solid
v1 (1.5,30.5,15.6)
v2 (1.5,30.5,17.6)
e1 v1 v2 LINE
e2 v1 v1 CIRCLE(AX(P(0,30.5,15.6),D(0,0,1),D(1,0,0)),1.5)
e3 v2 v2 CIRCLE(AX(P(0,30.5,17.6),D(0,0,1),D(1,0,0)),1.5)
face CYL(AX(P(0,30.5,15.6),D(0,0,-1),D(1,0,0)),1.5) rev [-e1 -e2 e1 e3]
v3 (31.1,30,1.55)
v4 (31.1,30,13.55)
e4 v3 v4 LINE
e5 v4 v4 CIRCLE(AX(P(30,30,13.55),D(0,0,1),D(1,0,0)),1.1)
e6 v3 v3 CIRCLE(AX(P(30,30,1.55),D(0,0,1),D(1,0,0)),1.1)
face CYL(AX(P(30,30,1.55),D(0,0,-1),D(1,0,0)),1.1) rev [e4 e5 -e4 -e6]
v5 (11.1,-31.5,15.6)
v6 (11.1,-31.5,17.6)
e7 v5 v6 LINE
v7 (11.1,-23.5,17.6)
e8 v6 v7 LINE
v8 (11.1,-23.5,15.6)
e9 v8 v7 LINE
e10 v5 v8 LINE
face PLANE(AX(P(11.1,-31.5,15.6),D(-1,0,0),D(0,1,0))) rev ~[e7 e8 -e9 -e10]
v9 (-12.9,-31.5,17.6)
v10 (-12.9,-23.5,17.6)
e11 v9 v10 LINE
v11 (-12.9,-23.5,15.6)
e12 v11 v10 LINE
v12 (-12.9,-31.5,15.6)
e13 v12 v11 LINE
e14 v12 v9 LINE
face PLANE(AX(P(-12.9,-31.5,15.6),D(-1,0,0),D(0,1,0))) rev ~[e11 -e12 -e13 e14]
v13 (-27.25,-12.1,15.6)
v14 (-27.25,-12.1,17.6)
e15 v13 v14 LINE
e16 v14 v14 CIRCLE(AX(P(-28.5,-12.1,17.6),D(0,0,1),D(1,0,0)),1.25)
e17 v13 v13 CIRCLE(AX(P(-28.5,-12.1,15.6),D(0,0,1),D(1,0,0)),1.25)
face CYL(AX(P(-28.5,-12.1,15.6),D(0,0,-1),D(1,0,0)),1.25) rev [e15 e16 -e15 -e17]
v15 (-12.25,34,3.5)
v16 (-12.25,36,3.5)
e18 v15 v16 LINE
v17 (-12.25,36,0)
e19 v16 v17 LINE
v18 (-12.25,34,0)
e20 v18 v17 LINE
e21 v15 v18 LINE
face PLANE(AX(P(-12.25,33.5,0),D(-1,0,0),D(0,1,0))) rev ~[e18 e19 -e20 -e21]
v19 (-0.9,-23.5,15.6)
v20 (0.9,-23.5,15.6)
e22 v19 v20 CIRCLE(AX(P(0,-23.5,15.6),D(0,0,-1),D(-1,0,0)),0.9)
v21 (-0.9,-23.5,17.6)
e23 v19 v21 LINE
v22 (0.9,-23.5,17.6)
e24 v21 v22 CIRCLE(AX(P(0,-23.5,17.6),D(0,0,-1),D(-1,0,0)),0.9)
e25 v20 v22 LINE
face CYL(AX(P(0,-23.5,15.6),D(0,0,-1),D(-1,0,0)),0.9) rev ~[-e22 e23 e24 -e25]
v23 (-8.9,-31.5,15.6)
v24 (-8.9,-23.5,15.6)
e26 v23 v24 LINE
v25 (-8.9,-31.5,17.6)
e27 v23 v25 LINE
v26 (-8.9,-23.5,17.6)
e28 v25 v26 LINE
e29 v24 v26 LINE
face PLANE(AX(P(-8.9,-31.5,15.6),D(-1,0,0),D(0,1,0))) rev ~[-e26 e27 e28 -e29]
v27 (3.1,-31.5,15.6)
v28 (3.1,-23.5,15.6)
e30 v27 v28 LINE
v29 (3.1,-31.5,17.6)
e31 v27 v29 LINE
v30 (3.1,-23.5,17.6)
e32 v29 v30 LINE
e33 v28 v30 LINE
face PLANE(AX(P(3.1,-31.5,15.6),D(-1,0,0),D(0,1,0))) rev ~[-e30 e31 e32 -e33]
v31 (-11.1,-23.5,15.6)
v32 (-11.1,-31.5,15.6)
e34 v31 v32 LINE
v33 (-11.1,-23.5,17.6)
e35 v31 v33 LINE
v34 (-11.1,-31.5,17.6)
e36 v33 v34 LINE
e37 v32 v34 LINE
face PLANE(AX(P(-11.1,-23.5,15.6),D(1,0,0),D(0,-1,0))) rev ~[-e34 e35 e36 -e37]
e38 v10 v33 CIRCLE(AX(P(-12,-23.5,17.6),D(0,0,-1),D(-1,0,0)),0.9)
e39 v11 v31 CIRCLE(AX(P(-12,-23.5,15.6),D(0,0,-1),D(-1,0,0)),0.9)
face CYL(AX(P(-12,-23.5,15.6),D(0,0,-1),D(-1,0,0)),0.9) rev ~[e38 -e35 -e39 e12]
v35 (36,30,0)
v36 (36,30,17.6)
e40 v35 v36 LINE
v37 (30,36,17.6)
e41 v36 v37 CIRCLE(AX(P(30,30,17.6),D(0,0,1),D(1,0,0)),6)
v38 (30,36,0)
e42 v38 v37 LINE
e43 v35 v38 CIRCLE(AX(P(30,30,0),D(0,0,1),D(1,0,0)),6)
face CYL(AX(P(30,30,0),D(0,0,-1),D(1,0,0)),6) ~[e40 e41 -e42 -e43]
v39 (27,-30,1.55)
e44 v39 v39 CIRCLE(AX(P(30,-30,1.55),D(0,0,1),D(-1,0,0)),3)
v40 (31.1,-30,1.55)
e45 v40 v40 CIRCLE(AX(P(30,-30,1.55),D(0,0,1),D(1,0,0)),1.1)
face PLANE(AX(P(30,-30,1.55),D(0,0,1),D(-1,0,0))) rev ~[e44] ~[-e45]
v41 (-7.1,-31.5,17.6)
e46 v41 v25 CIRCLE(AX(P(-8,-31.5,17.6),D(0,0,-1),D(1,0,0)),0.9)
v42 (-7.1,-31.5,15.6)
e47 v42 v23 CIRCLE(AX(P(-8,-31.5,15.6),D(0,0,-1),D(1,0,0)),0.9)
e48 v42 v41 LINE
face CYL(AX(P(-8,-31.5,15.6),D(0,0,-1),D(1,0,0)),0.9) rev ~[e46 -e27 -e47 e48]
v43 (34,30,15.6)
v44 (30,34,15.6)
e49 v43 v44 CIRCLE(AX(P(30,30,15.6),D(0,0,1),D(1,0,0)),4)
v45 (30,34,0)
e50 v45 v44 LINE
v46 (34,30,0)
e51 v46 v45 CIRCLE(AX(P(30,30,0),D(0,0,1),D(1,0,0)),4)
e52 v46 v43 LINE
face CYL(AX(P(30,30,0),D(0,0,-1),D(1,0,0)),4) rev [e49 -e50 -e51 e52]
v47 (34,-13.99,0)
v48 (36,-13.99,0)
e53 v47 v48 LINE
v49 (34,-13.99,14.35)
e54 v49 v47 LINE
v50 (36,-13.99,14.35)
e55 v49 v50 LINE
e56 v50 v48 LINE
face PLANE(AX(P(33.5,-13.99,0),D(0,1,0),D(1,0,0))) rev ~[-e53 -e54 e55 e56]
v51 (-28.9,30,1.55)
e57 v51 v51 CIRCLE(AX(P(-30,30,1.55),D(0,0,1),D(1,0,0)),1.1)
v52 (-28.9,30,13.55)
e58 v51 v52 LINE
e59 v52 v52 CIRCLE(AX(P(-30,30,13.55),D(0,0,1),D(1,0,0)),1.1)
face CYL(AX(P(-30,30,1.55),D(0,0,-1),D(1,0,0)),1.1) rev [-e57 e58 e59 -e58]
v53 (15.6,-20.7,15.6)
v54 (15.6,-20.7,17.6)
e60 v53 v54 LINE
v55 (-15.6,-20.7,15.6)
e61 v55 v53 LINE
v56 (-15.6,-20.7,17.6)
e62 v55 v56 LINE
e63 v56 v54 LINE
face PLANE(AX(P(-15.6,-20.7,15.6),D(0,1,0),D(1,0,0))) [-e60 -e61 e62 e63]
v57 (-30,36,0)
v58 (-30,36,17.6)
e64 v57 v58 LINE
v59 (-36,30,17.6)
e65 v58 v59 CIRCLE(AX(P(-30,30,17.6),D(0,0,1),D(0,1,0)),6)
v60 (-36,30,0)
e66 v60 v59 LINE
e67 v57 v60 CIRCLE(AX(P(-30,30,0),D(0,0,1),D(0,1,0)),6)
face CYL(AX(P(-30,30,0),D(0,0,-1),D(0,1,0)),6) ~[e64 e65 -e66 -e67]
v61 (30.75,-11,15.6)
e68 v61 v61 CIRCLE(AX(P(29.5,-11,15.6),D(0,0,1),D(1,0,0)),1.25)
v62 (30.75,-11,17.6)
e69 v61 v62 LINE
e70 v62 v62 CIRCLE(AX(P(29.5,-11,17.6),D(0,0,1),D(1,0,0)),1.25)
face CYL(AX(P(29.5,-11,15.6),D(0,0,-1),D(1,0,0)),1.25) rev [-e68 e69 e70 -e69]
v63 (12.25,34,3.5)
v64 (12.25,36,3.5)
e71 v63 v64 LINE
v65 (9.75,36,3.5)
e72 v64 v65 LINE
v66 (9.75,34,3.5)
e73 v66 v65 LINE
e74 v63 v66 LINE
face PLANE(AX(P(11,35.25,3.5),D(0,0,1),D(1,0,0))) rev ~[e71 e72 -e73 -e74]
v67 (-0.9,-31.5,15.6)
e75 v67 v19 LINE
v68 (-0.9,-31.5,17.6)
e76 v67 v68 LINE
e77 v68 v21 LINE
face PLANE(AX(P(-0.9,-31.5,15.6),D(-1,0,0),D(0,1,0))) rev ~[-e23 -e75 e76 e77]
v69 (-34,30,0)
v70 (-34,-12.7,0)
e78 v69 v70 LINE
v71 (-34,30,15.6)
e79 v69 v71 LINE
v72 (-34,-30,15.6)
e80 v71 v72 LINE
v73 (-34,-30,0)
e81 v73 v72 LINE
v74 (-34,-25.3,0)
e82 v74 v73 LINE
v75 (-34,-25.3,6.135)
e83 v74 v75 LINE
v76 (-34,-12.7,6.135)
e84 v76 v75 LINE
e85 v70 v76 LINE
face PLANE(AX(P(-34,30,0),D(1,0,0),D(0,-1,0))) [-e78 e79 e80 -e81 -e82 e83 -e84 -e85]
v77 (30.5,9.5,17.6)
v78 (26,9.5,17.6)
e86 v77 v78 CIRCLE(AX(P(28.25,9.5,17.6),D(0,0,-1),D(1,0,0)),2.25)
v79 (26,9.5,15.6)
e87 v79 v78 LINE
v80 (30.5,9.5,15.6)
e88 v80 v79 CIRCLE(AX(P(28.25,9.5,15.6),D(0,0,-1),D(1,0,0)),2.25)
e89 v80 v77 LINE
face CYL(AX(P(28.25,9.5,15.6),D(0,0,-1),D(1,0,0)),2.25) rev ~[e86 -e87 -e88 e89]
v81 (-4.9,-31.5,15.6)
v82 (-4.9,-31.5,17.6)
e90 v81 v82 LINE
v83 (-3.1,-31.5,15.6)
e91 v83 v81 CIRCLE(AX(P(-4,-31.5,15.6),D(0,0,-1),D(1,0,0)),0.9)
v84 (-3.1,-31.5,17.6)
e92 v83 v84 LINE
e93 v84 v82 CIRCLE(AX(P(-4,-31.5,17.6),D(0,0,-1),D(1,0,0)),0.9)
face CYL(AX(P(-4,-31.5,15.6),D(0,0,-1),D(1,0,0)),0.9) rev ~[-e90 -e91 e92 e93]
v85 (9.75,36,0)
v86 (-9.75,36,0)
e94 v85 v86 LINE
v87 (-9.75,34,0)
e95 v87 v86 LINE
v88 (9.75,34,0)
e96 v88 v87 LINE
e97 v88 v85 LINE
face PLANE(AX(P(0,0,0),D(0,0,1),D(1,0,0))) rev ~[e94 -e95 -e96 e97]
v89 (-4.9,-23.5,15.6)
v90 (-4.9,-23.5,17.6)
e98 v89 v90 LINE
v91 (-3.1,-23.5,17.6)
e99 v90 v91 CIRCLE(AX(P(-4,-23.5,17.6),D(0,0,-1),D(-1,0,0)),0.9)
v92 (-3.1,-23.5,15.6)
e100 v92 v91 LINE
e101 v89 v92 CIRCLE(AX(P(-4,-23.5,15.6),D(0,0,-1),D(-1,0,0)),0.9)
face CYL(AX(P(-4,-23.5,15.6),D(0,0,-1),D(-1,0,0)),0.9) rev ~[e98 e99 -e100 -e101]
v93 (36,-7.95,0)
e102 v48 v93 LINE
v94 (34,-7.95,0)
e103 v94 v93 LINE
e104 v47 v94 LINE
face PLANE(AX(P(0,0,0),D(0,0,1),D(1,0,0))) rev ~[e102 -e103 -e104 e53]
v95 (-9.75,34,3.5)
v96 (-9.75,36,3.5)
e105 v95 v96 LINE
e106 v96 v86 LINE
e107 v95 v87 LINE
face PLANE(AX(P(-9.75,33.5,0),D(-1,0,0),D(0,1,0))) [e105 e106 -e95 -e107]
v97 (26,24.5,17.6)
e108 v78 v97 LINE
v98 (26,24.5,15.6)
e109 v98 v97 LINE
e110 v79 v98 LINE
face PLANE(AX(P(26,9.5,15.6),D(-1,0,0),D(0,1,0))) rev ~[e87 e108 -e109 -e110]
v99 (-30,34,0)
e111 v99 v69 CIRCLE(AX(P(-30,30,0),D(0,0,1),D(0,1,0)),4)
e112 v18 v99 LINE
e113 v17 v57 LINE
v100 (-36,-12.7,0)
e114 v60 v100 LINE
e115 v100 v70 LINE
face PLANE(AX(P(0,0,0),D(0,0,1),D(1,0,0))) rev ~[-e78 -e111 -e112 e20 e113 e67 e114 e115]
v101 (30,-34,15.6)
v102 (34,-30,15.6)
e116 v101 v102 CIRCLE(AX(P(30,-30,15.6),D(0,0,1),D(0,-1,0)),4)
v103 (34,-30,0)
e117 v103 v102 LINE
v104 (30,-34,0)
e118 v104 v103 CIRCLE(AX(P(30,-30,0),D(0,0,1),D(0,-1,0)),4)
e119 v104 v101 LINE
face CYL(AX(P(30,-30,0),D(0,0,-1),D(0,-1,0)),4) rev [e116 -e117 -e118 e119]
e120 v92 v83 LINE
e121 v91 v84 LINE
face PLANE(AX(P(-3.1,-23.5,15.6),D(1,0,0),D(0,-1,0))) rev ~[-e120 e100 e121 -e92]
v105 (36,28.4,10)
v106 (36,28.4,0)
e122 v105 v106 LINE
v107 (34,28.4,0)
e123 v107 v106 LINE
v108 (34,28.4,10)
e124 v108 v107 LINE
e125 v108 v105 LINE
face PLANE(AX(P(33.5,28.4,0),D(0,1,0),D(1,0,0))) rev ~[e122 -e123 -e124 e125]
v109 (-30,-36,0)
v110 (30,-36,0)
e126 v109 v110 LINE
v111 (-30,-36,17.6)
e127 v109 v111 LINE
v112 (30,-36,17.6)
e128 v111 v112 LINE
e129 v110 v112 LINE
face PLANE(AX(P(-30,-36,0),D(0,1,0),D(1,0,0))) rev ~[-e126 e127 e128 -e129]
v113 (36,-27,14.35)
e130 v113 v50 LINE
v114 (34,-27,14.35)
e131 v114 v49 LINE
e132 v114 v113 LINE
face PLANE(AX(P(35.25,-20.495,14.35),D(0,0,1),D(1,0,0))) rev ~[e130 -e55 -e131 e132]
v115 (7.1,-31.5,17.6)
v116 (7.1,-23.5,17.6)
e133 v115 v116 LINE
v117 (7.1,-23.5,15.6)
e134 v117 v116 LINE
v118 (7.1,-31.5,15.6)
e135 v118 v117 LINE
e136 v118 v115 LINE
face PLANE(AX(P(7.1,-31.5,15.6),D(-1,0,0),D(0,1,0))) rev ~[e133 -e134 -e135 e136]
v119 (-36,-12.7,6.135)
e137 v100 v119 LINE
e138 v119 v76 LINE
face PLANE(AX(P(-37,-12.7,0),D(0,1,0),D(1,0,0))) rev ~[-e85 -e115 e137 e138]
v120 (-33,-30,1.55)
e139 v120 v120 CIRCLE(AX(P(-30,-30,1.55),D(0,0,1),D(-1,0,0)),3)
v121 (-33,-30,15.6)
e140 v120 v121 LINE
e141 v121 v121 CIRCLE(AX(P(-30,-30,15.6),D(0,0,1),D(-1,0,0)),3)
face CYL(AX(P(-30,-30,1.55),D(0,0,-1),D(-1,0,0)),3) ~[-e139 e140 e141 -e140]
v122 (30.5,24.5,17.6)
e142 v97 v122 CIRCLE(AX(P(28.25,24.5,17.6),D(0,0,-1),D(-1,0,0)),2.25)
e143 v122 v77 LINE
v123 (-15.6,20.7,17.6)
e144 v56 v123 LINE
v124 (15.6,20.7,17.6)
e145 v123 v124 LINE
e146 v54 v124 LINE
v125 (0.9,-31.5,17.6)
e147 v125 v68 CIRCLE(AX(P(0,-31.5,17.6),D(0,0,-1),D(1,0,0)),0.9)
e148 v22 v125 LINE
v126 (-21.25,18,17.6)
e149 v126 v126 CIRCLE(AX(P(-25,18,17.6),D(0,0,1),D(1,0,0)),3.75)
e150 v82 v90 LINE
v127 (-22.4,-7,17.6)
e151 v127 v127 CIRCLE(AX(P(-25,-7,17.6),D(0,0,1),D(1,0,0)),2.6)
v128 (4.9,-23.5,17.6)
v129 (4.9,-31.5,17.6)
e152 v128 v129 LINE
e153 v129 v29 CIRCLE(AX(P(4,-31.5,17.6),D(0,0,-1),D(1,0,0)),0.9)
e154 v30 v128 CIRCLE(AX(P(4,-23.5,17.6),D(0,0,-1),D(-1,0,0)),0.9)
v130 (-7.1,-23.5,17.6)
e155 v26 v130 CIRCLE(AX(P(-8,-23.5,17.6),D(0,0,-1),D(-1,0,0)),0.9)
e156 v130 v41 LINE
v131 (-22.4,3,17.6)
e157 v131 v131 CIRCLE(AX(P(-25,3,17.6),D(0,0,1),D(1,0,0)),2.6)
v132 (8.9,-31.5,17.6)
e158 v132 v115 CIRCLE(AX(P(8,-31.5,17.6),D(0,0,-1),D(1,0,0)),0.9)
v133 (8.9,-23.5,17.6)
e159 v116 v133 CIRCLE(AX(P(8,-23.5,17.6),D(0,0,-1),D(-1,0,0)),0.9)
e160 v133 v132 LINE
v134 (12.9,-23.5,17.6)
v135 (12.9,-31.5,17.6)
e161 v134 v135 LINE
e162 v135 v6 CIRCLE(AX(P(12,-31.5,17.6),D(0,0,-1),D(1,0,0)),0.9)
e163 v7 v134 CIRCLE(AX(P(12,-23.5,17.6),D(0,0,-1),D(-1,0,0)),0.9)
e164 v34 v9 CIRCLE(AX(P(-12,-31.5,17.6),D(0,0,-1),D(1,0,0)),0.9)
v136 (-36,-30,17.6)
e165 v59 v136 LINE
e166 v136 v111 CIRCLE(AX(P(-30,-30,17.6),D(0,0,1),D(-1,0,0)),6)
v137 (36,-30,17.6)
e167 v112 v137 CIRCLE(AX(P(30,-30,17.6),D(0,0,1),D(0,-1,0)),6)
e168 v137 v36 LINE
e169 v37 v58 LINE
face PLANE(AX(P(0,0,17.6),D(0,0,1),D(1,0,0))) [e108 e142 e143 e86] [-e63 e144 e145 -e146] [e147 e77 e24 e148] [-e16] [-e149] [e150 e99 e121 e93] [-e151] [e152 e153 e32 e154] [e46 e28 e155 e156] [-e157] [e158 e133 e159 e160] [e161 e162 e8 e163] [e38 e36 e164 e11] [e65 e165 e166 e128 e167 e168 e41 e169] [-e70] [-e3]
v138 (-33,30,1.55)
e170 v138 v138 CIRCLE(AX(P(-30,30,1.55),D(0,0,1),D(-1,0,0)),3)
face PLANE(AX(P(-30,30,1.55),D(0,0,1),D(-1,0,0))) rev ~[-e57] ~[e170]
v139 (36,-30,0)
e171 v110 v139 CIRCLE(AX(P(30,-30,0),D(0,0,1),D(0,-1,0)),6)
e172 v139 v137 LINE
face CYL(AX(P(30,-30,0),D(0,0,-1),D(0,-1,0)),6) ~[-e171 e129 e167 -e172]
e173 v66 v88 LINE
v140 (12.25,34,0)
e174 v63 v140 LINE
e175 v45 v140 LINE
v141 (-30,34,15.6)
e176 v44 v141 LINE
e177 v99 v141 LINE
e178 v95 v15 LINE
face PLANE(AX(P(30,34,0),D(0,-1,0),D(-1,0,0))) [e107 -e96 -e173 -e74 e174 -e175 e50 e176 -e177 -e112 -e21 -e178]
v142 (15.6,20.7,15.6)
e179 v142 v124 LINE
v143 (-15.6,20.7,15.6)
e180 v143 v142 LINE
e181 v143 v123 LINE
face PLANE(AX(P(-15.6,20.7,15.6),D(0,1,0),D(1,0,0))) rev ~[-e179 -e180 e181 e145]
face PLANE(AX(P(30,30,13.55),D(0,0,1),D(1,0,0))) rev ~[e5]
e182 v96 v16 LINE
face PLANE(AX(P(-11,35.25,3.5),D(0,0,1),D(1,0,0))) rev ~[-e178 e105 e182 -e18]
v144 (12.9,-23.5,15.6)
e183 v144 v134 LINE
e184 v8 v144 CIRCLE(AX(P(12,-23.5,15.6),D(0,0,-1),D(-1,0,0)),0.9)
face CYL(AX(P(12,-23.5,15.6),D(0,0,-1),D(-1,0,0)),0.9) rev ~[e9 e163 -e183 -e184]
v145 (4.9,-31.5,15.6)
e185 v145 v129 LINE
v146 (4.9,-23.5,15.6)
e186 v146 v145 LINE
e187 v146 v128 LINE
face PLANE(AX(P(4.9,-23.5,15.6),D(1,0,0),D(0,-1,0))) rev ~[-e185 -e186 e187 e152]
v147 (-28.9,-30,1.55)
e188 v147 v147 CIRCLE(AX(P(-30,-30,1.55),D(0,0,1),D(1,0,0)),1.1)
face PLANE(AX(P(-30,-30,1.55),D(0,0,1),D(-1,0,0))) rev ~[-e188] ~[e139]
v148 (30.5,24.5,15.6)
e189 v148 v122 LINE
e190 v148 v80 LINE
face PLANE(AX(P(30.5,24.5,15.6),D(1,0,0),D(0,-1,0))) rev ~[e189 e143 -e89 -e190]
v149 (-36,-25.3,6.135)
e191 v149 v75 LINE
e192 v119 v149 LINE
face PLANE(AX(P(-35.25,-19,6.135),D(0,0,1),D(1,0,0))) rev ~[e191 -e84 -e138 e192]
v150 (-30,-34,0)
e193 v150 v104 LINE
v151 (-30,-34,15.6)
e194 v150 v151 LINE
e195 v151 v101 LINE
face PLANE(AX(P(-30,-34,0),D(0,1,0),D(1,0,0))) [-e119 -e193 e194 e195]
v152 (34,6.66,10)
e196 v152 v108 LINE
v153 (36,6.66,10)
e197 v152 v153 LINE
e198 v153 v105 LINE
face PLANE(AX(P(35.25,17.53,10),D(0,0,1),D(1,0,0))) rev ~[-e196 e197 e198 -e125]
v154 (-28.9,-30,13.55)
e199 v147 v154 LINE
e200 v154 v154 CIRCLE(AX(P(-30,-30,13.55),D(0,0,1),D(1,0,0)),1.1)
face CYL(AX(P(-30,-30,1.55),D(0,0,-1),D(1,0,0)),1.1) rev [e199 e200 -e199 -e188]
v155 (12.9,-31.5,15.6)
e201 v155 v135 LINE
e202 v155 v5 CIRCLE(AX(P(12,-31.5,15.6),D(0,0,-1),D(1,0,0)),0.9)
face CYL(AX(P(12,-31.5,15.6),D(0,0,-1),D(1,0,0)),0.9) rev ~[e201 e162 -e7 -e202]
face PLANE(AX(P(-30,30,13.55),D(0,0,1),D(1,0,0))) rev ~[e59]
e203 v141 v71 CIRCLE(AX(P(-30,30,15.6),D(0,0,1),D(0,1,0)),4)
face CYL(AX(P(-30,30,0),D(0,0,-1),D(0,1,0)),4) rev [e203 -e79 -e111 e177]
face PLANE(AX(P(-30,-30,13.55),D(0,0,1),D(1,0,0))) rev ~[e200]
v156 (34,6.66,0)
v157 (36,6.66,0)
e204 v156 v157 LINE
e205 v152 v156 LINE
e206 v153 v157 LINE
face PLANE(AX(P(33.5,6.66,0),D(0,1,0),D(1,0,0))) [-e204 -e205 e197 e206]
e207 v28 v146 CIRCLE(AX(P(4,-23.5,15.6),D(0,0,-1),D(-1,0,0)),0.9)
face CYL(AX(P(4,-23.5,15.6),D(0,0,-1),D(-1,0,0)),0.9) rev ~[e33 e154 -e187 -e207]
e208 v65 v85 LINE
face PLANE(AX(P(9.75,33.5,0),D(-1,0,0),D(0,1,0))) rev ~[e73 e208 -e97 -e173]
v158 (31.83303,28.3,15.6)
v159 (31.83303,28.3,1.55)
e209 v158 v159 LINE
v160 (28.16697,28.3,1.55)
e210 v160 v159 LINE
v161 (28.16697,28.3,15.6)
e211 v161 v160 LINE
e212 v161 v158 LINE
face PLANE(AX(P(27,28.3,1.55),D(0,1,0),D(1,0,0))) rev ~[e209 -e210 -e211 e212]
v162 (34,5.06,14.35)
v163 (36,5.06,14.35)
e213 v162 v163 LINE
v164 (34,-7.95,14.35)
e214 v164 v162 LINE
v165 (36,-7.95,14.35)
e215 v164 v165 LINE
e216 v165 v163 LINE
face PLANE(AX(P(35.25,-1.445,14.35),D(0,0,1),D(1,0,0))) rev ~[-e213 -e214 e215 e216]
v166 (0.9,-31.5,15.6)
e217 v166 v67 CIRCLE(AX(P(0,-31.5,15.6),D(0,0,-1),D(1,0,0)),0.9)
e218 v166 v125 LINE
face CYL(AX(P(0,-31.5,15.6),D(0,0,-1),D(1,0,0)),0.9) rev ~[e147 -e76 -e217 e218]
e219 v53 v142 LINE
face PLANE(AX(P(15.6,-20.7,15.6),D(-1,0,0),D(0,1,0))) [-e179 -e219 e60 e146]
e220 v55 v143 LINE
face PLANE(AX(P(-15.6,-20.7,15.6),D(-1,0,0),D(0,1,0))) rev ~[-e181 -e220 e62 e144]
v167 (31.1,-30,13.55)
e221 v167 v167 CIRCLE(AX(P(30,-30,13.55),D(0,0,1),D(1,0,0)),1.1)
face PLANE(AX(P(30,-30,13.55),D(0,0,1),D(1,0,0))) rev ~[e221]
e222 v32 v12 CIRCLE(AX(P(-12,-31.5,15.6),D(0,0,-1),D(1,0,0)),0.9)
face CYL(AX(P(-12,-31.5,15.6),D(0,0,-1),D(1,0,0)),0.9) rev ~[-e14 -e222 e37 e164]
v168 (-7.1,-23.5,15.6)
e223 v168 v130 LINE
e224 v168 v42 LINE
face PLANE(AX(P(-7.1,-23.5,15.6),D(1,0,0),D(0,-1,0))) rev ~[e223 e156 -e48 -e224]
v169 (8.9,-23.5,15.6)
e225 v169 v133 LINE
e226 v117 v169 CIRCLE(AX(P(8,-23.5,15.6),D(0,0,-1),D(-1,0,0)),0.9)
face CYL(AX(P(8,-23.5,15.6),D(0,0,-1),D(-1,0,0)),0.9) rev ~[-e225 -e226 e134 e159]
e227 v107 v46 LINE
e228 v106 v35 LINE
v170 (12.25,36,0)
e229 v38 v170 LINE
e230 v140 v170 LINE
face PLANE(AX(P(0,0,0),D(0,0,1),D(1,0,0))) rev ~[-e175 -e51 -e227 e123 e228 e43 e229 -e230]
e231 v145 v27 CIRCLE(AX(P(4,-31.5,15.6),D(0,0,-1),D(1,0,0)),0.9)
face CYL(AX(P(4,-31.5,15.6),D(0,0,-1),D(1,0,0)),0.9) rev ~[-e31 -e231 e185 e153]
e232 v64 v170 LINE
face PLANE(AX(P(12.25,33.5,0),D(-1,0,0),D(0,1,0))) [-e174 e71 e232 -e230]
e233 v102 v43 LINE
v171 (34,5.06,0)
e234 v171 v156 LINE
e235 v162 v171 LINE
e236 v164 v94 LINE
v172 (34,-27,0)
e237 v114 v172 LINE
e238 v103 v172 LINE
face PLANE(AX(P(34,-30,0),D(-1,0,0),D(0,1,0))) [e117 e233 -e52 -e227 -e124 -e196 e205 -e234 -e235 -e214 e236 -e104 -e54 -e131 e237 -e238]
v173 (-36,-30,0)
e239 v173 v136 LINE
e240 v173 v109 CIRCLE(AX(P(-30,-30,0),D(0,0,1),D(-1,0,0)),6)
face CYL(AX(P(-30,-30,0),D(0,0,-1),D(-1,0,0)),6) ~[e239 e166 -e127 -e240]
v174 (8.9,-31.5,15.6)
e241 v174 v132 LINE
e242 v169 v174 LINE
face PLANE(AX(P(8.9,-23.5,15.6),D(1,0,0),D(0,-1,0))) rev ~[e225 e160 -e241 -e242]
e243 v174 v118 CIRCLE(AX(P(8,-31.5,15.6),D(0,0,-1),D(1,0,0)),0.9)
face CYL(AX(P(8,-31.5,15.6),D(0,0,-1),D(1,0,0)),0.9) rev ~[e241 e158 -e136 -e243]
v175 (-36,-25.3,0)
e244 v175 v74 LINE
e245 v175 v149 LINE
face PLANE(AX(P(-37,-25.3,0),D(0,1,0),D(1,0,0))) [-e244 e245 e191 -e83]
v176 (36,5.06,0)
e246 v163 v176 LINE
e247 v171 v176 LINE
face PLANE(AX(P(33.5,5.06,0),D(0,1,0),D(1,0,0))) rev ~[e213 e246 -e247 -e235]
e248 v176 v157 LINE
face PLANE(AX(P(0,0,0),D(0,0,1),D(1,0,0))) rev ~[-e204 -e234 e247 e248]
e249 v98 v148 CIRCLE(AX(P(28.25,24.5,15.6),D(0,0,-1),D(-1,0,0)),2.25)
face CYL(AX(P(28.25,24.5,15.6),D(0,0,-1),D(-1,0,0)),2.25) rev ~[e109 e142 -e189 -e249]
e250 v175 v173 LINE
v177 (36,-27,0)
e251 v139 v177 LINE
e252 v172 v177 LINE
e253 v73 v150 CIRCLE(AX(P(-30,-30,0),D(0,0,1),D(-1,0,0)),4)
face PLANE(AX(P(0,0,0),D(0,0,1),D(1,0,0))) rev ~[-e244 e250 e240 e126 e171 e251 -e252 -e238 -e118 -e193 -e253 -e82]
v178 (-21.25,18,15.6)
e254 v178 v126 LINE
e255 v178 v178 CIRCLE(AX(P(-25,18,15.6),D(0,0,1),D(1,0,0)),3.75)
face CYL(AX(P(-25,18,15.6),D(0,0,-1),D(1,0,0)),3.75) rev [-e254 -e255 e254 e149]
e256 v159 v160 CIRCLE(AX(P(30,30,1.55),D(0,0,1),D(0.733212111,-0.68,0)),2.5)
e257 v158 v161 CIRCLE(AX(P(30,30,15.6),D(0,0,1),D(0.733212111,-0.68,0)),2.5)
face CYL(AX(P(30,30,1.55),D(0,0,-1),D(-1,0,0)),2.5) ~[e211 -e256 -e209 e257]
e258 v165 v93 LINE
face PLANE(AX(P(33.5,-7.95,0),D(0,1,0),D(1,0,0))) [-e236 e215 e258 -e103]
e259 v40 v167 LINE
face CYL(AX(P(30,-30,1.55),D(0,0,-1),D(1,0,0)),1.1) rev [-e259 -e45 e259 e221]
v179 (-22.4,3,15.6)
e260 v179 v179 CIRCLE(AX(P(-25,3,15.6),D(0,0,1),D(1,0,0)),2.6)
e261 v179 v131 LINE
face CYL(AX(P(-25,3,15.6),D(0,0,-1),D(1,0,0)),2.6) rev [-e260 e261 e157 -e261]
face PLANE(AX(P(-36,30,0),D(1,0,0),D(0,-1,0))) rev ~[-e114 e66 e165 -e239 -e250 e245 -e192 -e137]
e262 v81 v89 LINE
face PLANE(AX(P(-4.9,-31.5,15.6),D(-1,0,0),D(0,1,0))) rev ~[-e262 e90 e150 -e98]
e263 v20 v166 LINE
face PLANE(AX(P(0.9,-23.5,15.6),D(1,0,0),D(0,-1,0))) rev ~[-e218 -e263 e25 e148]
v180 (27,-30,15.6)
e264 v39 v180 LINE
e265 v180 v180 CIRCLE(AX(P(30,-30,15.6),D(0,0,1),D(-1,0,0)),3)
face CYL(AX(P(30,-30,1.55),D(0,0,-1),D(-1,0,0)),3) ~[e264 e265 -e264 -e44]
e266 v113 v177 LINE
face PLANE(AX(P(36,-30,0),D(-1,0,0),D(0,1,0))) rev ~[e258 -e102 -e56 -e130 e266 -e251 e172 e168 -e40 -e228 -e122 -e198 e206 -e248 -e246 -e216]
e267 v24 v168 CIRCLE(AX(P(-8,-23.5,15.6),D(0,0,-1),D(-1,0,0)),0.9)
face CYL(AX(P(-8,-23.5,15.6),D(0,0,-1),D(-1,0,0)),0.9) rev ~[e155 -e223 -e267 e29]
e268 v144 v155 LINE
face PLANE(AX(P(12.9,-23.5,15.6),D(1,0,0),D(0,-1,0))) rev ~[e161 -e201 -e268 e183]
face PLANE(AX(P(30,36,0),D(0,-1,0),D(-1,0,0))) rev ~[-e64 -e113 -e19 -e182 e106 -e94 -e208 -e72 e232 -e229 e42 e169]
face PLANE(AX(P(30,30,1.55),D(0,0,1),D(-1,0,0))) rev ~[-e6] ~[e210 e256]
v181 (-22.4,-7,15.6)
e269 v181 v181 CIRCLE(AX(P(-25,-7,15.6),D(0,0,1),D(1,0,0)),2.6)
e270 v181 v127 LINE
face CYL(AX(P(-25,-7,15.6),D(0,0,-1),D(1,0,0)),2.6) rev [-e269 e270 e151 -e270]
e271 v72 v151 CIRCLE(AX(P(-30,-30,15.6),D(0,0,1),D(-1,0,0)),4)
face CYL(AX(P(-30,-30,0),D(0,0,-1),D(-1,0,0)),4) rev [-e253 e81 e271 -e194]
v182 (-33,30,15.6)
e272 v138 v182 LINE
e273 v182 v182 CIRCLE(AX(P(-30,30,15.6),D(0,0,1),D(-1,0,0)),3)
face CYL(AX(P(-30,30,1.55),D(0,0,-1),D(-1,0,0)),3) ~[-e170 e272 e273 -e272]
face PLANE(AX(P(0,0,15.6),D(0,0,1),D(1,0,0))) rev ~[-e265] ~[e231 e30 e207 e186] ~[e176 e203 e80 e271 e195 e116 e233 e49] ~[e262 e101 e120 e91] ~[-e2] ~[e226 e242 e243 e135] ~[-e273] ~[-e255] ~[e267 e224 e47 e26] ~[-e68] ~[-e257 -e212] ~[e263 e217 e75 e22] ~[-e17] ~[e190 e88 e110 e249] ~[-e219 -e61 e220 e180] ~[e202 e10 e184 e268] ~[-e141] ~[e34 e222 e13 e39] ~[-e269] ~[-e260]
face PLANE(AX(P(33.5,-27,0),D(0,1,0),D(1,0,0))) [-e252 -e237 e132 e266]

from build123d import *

# Parameters (mm, degrees)
BOSS_EXTRUDE1_DEPTH = 17.6
CUT_EXTRUDE1_DEPTH  = 15.6
SKETCH3_R           = 3
SKETCH3_R_2         = 2.5
BOSS_EXTRUDE2_DEPTH = 14.05
SKETCH4_W           = 6
SKETCH4_H           = 2.3
CUT_EXTRUDE2_DEPTH  = 14.05
SKETCH5_R           = 1.1
CUT_EXTRUDE3_DEPTH  = 12
SKETCH6_R           = 3.75
SKETCH6_R_2         = 2.6
SKETCH6_R_3         = 1.5
SKETCH6_R_4         = 1.25
SKETCH6_W           = 31.2
SKETCH6_H           = 41.4
CUT_EXTRUDE4_DEPTH  = 2
SKETCH7_W           = 3.5
SKETCH7_H           = 13.01
CUT_EXTRUDE5_DEPTH  = 14.35
SKETCH8_W           = 3.5
SKETCH8_H           = 21.74
CUT_EXTRUDE6_DEPTH  = 10
SKETCH9_W           = 3.5
SKETCH9_H           = 12.6
CUT_EXTRUDE7_DEPTH  = 6.135
SKETCH10_W          = 2.5
SKETCH10_H          = 3.5
CUT_EXTRUDE8_DEPTH  = 3.5


with BuildPart() as part:
    # Sketch1 → Boss-Extrude1 (new body)
    with BuildSketch(Plane.XY):
        with BuildLine():
            Line((-30, -36), (30, -36))
            ThreePointArc((30, -36), (34.242640687, -34.242640687), (36, -30))
            Line((36, -30), (36, 30))
            ThreePointArc((36, 30), (34.242640687, 34.242640687), (30, 36))
            Line((30, 36), (-30, 36))
            ThreePointArc((-30, 36), (-34.242640687, 34.242640687), (-36, 30))
            Line((-36, 30), (-36, -30))
            ThreePointArc((-36, -30), (-34.242640687, -34.242640687), (-30, -36))
        make_face()
    extrude(amount=BOSS_EXTRUDE1_DEPTH)

    # Sketch2 → Cut-Extrude1 (cut)
    with BuildSketch(Plane.XY):
        with BuildLine():
            Line((-30, -34), (30, -34))
            ThreePointArc((30, -34), (32.828427125, -32.828427125), (34, -30))
            Line((34, -30), (34, 30))
            ThreePointArc((34, 30), (32.828427125, 32.828427125), (30, 34))
            Line((30, 34), (-30, 34))
            ThreePointArc((-30, 34), (-32.828427125, 32.828427125), (-34, 30))
            Line((-34, 30), (-34, -30))
            ThreePointArc((-34, -30), (-32.828427125, -32.828427125), (-30, -34))
        make_face()
    extrude(amount=CUT_EXTRUDE1_DEPTH, mode=Mode.SUBTRACT)

    # Sketch3 → Boss-Extrude2 (add)
    with BuildSketch(Plane.XY.offset(1.55)):
        with Locations(Location((-30, 30, 0), (0, 0, 180))):
            Circle(SKETCH3_R)
        with Locations(Location((30, 30, 0), (0, 0, 180))):
            Circle(SKETCH3_R_2)
        with Locations(Location((-30, -30, 0), (0, 0, 180))):
            Circle(SKETCH3_R)
        with Locations(Location((30, -30, 0), (0, 0, 180))):
            Circle(SKETCH3_R)
    extrude(amount=BOSS_EXTRUDE2_DEPTH)

    # Sketch4 → Cut-Extrude2 (cut)
    with BuildSketch(Plane.XY.offset(1.55)):
        with Locations((30, 27.15)):
            Rectangle(SKETCH4_W, SKETCH4_H)
    extrude(amount=CUT_EXTRUDE2_DEPTH, mode=Mode.SUBTRACT)

    # Sketch5 → Cut-Extrude3 (cut)
    with BuildSketch(Plane.XY.offset(1.55)):
        with Locations((-30, 30)):
            Circle(SKETCH5_R)
        with Locations((30, 30)):
            Circle(SKETCH5_R)
        with Locations((-30, -30)):
            Circle(SKETCH5_R)
        with Locations((30, -30)):
            Circle(SKETCH5_R)
    extrude(amount=CUT_EXTRUDE3_DEPTH, mode=Mode.SUBTRACT)

    # Sketch6 → Cut-Extrude4 (cut)
    with BuildSketch(Plane.XY.offset(15.6)):
        with Locations((-25, 18)):
            Circle(SKETCH6_R)
        with Locations((-25, 3)):
            Circle(SKETCH6_R_2)
        with Locations((-25, -7)):
            Circle(SKETCH6_R_2)
        with Locations((0, 30.5)):
            Circle(SKETCH6_R_3)
        with Locations((-28.5, -12.1)):
            Circle(SKETCH6_R_4)
        with Locations((29.5, -11)):
            Circle(SKETCH6_R_4)
        Rectangle(SKETCH6_W, SKETCH6_H)
        with BuildLine():
            Line((30.5, 24.5), (30.5, 9.5))
            ThreePointArc((30.5, 9.5), (28.25, 7.25), (26, 9.5))
            Line((26, 9.5), (26, 24.5))
            ThreePointArc((26, 24.5), (28.25, 26.75), (30.5, 24.5))
        make_face()
        with BuildLine():
            Line((-11.1, -23.5), (-11.1, -31.5))
            ThreePointArc((-11.1, -31.5), (-12, -32.4), (-12.9, -31.5))
            Line((-12.9, -31.5), (-12.9, -23.5))
            ThreePointArc((-12.9, -23.5), (-12, -22.6), (-11.1, -23.5))
        make_face()
        with BuildLine():
            Line((-7.1, -23.5), (-7.1, -31.5))
            ThreePointArc((-7.1, -31.5), (-8, -32.4), (-8.9, -31.5))
            Line((-8.9, -31.5), (-8.9, -23.5))
            ThreePointArc((-8.9, -23.5), (-8, -22.6), (-7.1, -23.5))
        make_face()
        with BuildLine():
            Line((-3.1, -23.5), (-3.1, -31.5))
            ThreePointArc((-3.1, -31.5), (-4, -32.4), (-4.9, -31.5))
            Line((-4.9, -31.5), (-4.9, -23.5))
            ThreePointArc((-4.9, -23.5), (-4, -22.6), (-3.1, -23.5))
        make_face()
        with BuildLine():
            Line((0.9, -23.5), (0.9, -31.5))
            ThreePointArc((0.9, -31.5), (0, -32.4), (-0.9, -31.5))
            Line((-0.9, -31.5), (-0.9, -23.5))
            ThreePointArc((-0.9, -23.5), (0, -22.6), (0.9, -23.5))
        make_face()
        with BuildLine():
            Line((4.9, -23.5), (4.9, -31.5))
            ThreePointArc((4.9, -31.5), (4, -32.4), (3.1, -31.5))
            Line((3.1, -31.5), (3.1, -23.5))
            ThreePointArc((3.1, -23.5), (4, -22.6), (4.9, -23.5))
        make_face()
        with BuildLine():
            Line((8.9, -23.5), (8.9, -31.5))
            ThreePointArc((8.9, -31.5), (8, -32.4), (7.1, -31.5))
            Line((7.1, -31.5), (7.1, -23.5))
            ThreePointArc((7.1, -23.5), (8, -22.6), (8.9, -23.5))
        make_face()
        with BuildLine():
            Line((12.9, -23.5), (12.9, -31.5))
            ThreePointArc((12.9, -31.5), (12, -32.4), (11.1, -31.5))
            Line((11.1, -31.5), (11.1, -23.5))
            ThreePointArc((11.1, -23.5), (12, -22.6), (12.9, -23.5))
        make_face()
    extrude(amount=CUT_EXTRUDE4_DEPTH, mode=Mode.SUBTRACT)

    # Sketch7 → Cut-Extrude5 (cut)
    with BuildSketch(Plane.XY):
        with Locations((35.25, -1.445)):
            Rectangle(SKETCH7_W, SKETCH7_H)
        with Locations((35.25, -20.495)):
            Rectangle(SKETCH7_W, SKETCH7_H)
    extrude(amount=CUT_EXTRUDE5_DEPTH, mode=Mode.SUBTRACT)

    # Sketch8 → Cut-Extrude6 (cut)
    with BuildSketch(Plane.XY):
        with Locations((35.25, 17.53)):
            Rectangle(SKETCH8_W, SKETCH8_H)
    extrude(amount=CUT_EXTRUDE6_DEPTH, mode=Mode.SUBTRACT)

    # Sketch9 → Cut-Extrude7 (cut)
    with BuildSketch(Plane.XY):
        with Locations((-35.25, -19)):
            Rectangle(SKETCH9_W, SKETCH9_H)
    extrude(amount=CUT_EXTRUDE7_DEPTH, mode=Mode.SUBTRACT)

    # Sketch10 → Cut-Extrude8 (cut)
    with BuildSketch(Plane.XY):
        with Locations((-11, 35.25)):
            Rectangle(SKETCH10_W, SKETCH10_H)
        with Locations((11, 35.25)):
            Rectangle(SKETCH10_W, SKETCH10_H)
    extrude(amount=CUT_EXTRUDE8_DEPTH, mode=Mode.SUBTRACT)


solid = part.part
